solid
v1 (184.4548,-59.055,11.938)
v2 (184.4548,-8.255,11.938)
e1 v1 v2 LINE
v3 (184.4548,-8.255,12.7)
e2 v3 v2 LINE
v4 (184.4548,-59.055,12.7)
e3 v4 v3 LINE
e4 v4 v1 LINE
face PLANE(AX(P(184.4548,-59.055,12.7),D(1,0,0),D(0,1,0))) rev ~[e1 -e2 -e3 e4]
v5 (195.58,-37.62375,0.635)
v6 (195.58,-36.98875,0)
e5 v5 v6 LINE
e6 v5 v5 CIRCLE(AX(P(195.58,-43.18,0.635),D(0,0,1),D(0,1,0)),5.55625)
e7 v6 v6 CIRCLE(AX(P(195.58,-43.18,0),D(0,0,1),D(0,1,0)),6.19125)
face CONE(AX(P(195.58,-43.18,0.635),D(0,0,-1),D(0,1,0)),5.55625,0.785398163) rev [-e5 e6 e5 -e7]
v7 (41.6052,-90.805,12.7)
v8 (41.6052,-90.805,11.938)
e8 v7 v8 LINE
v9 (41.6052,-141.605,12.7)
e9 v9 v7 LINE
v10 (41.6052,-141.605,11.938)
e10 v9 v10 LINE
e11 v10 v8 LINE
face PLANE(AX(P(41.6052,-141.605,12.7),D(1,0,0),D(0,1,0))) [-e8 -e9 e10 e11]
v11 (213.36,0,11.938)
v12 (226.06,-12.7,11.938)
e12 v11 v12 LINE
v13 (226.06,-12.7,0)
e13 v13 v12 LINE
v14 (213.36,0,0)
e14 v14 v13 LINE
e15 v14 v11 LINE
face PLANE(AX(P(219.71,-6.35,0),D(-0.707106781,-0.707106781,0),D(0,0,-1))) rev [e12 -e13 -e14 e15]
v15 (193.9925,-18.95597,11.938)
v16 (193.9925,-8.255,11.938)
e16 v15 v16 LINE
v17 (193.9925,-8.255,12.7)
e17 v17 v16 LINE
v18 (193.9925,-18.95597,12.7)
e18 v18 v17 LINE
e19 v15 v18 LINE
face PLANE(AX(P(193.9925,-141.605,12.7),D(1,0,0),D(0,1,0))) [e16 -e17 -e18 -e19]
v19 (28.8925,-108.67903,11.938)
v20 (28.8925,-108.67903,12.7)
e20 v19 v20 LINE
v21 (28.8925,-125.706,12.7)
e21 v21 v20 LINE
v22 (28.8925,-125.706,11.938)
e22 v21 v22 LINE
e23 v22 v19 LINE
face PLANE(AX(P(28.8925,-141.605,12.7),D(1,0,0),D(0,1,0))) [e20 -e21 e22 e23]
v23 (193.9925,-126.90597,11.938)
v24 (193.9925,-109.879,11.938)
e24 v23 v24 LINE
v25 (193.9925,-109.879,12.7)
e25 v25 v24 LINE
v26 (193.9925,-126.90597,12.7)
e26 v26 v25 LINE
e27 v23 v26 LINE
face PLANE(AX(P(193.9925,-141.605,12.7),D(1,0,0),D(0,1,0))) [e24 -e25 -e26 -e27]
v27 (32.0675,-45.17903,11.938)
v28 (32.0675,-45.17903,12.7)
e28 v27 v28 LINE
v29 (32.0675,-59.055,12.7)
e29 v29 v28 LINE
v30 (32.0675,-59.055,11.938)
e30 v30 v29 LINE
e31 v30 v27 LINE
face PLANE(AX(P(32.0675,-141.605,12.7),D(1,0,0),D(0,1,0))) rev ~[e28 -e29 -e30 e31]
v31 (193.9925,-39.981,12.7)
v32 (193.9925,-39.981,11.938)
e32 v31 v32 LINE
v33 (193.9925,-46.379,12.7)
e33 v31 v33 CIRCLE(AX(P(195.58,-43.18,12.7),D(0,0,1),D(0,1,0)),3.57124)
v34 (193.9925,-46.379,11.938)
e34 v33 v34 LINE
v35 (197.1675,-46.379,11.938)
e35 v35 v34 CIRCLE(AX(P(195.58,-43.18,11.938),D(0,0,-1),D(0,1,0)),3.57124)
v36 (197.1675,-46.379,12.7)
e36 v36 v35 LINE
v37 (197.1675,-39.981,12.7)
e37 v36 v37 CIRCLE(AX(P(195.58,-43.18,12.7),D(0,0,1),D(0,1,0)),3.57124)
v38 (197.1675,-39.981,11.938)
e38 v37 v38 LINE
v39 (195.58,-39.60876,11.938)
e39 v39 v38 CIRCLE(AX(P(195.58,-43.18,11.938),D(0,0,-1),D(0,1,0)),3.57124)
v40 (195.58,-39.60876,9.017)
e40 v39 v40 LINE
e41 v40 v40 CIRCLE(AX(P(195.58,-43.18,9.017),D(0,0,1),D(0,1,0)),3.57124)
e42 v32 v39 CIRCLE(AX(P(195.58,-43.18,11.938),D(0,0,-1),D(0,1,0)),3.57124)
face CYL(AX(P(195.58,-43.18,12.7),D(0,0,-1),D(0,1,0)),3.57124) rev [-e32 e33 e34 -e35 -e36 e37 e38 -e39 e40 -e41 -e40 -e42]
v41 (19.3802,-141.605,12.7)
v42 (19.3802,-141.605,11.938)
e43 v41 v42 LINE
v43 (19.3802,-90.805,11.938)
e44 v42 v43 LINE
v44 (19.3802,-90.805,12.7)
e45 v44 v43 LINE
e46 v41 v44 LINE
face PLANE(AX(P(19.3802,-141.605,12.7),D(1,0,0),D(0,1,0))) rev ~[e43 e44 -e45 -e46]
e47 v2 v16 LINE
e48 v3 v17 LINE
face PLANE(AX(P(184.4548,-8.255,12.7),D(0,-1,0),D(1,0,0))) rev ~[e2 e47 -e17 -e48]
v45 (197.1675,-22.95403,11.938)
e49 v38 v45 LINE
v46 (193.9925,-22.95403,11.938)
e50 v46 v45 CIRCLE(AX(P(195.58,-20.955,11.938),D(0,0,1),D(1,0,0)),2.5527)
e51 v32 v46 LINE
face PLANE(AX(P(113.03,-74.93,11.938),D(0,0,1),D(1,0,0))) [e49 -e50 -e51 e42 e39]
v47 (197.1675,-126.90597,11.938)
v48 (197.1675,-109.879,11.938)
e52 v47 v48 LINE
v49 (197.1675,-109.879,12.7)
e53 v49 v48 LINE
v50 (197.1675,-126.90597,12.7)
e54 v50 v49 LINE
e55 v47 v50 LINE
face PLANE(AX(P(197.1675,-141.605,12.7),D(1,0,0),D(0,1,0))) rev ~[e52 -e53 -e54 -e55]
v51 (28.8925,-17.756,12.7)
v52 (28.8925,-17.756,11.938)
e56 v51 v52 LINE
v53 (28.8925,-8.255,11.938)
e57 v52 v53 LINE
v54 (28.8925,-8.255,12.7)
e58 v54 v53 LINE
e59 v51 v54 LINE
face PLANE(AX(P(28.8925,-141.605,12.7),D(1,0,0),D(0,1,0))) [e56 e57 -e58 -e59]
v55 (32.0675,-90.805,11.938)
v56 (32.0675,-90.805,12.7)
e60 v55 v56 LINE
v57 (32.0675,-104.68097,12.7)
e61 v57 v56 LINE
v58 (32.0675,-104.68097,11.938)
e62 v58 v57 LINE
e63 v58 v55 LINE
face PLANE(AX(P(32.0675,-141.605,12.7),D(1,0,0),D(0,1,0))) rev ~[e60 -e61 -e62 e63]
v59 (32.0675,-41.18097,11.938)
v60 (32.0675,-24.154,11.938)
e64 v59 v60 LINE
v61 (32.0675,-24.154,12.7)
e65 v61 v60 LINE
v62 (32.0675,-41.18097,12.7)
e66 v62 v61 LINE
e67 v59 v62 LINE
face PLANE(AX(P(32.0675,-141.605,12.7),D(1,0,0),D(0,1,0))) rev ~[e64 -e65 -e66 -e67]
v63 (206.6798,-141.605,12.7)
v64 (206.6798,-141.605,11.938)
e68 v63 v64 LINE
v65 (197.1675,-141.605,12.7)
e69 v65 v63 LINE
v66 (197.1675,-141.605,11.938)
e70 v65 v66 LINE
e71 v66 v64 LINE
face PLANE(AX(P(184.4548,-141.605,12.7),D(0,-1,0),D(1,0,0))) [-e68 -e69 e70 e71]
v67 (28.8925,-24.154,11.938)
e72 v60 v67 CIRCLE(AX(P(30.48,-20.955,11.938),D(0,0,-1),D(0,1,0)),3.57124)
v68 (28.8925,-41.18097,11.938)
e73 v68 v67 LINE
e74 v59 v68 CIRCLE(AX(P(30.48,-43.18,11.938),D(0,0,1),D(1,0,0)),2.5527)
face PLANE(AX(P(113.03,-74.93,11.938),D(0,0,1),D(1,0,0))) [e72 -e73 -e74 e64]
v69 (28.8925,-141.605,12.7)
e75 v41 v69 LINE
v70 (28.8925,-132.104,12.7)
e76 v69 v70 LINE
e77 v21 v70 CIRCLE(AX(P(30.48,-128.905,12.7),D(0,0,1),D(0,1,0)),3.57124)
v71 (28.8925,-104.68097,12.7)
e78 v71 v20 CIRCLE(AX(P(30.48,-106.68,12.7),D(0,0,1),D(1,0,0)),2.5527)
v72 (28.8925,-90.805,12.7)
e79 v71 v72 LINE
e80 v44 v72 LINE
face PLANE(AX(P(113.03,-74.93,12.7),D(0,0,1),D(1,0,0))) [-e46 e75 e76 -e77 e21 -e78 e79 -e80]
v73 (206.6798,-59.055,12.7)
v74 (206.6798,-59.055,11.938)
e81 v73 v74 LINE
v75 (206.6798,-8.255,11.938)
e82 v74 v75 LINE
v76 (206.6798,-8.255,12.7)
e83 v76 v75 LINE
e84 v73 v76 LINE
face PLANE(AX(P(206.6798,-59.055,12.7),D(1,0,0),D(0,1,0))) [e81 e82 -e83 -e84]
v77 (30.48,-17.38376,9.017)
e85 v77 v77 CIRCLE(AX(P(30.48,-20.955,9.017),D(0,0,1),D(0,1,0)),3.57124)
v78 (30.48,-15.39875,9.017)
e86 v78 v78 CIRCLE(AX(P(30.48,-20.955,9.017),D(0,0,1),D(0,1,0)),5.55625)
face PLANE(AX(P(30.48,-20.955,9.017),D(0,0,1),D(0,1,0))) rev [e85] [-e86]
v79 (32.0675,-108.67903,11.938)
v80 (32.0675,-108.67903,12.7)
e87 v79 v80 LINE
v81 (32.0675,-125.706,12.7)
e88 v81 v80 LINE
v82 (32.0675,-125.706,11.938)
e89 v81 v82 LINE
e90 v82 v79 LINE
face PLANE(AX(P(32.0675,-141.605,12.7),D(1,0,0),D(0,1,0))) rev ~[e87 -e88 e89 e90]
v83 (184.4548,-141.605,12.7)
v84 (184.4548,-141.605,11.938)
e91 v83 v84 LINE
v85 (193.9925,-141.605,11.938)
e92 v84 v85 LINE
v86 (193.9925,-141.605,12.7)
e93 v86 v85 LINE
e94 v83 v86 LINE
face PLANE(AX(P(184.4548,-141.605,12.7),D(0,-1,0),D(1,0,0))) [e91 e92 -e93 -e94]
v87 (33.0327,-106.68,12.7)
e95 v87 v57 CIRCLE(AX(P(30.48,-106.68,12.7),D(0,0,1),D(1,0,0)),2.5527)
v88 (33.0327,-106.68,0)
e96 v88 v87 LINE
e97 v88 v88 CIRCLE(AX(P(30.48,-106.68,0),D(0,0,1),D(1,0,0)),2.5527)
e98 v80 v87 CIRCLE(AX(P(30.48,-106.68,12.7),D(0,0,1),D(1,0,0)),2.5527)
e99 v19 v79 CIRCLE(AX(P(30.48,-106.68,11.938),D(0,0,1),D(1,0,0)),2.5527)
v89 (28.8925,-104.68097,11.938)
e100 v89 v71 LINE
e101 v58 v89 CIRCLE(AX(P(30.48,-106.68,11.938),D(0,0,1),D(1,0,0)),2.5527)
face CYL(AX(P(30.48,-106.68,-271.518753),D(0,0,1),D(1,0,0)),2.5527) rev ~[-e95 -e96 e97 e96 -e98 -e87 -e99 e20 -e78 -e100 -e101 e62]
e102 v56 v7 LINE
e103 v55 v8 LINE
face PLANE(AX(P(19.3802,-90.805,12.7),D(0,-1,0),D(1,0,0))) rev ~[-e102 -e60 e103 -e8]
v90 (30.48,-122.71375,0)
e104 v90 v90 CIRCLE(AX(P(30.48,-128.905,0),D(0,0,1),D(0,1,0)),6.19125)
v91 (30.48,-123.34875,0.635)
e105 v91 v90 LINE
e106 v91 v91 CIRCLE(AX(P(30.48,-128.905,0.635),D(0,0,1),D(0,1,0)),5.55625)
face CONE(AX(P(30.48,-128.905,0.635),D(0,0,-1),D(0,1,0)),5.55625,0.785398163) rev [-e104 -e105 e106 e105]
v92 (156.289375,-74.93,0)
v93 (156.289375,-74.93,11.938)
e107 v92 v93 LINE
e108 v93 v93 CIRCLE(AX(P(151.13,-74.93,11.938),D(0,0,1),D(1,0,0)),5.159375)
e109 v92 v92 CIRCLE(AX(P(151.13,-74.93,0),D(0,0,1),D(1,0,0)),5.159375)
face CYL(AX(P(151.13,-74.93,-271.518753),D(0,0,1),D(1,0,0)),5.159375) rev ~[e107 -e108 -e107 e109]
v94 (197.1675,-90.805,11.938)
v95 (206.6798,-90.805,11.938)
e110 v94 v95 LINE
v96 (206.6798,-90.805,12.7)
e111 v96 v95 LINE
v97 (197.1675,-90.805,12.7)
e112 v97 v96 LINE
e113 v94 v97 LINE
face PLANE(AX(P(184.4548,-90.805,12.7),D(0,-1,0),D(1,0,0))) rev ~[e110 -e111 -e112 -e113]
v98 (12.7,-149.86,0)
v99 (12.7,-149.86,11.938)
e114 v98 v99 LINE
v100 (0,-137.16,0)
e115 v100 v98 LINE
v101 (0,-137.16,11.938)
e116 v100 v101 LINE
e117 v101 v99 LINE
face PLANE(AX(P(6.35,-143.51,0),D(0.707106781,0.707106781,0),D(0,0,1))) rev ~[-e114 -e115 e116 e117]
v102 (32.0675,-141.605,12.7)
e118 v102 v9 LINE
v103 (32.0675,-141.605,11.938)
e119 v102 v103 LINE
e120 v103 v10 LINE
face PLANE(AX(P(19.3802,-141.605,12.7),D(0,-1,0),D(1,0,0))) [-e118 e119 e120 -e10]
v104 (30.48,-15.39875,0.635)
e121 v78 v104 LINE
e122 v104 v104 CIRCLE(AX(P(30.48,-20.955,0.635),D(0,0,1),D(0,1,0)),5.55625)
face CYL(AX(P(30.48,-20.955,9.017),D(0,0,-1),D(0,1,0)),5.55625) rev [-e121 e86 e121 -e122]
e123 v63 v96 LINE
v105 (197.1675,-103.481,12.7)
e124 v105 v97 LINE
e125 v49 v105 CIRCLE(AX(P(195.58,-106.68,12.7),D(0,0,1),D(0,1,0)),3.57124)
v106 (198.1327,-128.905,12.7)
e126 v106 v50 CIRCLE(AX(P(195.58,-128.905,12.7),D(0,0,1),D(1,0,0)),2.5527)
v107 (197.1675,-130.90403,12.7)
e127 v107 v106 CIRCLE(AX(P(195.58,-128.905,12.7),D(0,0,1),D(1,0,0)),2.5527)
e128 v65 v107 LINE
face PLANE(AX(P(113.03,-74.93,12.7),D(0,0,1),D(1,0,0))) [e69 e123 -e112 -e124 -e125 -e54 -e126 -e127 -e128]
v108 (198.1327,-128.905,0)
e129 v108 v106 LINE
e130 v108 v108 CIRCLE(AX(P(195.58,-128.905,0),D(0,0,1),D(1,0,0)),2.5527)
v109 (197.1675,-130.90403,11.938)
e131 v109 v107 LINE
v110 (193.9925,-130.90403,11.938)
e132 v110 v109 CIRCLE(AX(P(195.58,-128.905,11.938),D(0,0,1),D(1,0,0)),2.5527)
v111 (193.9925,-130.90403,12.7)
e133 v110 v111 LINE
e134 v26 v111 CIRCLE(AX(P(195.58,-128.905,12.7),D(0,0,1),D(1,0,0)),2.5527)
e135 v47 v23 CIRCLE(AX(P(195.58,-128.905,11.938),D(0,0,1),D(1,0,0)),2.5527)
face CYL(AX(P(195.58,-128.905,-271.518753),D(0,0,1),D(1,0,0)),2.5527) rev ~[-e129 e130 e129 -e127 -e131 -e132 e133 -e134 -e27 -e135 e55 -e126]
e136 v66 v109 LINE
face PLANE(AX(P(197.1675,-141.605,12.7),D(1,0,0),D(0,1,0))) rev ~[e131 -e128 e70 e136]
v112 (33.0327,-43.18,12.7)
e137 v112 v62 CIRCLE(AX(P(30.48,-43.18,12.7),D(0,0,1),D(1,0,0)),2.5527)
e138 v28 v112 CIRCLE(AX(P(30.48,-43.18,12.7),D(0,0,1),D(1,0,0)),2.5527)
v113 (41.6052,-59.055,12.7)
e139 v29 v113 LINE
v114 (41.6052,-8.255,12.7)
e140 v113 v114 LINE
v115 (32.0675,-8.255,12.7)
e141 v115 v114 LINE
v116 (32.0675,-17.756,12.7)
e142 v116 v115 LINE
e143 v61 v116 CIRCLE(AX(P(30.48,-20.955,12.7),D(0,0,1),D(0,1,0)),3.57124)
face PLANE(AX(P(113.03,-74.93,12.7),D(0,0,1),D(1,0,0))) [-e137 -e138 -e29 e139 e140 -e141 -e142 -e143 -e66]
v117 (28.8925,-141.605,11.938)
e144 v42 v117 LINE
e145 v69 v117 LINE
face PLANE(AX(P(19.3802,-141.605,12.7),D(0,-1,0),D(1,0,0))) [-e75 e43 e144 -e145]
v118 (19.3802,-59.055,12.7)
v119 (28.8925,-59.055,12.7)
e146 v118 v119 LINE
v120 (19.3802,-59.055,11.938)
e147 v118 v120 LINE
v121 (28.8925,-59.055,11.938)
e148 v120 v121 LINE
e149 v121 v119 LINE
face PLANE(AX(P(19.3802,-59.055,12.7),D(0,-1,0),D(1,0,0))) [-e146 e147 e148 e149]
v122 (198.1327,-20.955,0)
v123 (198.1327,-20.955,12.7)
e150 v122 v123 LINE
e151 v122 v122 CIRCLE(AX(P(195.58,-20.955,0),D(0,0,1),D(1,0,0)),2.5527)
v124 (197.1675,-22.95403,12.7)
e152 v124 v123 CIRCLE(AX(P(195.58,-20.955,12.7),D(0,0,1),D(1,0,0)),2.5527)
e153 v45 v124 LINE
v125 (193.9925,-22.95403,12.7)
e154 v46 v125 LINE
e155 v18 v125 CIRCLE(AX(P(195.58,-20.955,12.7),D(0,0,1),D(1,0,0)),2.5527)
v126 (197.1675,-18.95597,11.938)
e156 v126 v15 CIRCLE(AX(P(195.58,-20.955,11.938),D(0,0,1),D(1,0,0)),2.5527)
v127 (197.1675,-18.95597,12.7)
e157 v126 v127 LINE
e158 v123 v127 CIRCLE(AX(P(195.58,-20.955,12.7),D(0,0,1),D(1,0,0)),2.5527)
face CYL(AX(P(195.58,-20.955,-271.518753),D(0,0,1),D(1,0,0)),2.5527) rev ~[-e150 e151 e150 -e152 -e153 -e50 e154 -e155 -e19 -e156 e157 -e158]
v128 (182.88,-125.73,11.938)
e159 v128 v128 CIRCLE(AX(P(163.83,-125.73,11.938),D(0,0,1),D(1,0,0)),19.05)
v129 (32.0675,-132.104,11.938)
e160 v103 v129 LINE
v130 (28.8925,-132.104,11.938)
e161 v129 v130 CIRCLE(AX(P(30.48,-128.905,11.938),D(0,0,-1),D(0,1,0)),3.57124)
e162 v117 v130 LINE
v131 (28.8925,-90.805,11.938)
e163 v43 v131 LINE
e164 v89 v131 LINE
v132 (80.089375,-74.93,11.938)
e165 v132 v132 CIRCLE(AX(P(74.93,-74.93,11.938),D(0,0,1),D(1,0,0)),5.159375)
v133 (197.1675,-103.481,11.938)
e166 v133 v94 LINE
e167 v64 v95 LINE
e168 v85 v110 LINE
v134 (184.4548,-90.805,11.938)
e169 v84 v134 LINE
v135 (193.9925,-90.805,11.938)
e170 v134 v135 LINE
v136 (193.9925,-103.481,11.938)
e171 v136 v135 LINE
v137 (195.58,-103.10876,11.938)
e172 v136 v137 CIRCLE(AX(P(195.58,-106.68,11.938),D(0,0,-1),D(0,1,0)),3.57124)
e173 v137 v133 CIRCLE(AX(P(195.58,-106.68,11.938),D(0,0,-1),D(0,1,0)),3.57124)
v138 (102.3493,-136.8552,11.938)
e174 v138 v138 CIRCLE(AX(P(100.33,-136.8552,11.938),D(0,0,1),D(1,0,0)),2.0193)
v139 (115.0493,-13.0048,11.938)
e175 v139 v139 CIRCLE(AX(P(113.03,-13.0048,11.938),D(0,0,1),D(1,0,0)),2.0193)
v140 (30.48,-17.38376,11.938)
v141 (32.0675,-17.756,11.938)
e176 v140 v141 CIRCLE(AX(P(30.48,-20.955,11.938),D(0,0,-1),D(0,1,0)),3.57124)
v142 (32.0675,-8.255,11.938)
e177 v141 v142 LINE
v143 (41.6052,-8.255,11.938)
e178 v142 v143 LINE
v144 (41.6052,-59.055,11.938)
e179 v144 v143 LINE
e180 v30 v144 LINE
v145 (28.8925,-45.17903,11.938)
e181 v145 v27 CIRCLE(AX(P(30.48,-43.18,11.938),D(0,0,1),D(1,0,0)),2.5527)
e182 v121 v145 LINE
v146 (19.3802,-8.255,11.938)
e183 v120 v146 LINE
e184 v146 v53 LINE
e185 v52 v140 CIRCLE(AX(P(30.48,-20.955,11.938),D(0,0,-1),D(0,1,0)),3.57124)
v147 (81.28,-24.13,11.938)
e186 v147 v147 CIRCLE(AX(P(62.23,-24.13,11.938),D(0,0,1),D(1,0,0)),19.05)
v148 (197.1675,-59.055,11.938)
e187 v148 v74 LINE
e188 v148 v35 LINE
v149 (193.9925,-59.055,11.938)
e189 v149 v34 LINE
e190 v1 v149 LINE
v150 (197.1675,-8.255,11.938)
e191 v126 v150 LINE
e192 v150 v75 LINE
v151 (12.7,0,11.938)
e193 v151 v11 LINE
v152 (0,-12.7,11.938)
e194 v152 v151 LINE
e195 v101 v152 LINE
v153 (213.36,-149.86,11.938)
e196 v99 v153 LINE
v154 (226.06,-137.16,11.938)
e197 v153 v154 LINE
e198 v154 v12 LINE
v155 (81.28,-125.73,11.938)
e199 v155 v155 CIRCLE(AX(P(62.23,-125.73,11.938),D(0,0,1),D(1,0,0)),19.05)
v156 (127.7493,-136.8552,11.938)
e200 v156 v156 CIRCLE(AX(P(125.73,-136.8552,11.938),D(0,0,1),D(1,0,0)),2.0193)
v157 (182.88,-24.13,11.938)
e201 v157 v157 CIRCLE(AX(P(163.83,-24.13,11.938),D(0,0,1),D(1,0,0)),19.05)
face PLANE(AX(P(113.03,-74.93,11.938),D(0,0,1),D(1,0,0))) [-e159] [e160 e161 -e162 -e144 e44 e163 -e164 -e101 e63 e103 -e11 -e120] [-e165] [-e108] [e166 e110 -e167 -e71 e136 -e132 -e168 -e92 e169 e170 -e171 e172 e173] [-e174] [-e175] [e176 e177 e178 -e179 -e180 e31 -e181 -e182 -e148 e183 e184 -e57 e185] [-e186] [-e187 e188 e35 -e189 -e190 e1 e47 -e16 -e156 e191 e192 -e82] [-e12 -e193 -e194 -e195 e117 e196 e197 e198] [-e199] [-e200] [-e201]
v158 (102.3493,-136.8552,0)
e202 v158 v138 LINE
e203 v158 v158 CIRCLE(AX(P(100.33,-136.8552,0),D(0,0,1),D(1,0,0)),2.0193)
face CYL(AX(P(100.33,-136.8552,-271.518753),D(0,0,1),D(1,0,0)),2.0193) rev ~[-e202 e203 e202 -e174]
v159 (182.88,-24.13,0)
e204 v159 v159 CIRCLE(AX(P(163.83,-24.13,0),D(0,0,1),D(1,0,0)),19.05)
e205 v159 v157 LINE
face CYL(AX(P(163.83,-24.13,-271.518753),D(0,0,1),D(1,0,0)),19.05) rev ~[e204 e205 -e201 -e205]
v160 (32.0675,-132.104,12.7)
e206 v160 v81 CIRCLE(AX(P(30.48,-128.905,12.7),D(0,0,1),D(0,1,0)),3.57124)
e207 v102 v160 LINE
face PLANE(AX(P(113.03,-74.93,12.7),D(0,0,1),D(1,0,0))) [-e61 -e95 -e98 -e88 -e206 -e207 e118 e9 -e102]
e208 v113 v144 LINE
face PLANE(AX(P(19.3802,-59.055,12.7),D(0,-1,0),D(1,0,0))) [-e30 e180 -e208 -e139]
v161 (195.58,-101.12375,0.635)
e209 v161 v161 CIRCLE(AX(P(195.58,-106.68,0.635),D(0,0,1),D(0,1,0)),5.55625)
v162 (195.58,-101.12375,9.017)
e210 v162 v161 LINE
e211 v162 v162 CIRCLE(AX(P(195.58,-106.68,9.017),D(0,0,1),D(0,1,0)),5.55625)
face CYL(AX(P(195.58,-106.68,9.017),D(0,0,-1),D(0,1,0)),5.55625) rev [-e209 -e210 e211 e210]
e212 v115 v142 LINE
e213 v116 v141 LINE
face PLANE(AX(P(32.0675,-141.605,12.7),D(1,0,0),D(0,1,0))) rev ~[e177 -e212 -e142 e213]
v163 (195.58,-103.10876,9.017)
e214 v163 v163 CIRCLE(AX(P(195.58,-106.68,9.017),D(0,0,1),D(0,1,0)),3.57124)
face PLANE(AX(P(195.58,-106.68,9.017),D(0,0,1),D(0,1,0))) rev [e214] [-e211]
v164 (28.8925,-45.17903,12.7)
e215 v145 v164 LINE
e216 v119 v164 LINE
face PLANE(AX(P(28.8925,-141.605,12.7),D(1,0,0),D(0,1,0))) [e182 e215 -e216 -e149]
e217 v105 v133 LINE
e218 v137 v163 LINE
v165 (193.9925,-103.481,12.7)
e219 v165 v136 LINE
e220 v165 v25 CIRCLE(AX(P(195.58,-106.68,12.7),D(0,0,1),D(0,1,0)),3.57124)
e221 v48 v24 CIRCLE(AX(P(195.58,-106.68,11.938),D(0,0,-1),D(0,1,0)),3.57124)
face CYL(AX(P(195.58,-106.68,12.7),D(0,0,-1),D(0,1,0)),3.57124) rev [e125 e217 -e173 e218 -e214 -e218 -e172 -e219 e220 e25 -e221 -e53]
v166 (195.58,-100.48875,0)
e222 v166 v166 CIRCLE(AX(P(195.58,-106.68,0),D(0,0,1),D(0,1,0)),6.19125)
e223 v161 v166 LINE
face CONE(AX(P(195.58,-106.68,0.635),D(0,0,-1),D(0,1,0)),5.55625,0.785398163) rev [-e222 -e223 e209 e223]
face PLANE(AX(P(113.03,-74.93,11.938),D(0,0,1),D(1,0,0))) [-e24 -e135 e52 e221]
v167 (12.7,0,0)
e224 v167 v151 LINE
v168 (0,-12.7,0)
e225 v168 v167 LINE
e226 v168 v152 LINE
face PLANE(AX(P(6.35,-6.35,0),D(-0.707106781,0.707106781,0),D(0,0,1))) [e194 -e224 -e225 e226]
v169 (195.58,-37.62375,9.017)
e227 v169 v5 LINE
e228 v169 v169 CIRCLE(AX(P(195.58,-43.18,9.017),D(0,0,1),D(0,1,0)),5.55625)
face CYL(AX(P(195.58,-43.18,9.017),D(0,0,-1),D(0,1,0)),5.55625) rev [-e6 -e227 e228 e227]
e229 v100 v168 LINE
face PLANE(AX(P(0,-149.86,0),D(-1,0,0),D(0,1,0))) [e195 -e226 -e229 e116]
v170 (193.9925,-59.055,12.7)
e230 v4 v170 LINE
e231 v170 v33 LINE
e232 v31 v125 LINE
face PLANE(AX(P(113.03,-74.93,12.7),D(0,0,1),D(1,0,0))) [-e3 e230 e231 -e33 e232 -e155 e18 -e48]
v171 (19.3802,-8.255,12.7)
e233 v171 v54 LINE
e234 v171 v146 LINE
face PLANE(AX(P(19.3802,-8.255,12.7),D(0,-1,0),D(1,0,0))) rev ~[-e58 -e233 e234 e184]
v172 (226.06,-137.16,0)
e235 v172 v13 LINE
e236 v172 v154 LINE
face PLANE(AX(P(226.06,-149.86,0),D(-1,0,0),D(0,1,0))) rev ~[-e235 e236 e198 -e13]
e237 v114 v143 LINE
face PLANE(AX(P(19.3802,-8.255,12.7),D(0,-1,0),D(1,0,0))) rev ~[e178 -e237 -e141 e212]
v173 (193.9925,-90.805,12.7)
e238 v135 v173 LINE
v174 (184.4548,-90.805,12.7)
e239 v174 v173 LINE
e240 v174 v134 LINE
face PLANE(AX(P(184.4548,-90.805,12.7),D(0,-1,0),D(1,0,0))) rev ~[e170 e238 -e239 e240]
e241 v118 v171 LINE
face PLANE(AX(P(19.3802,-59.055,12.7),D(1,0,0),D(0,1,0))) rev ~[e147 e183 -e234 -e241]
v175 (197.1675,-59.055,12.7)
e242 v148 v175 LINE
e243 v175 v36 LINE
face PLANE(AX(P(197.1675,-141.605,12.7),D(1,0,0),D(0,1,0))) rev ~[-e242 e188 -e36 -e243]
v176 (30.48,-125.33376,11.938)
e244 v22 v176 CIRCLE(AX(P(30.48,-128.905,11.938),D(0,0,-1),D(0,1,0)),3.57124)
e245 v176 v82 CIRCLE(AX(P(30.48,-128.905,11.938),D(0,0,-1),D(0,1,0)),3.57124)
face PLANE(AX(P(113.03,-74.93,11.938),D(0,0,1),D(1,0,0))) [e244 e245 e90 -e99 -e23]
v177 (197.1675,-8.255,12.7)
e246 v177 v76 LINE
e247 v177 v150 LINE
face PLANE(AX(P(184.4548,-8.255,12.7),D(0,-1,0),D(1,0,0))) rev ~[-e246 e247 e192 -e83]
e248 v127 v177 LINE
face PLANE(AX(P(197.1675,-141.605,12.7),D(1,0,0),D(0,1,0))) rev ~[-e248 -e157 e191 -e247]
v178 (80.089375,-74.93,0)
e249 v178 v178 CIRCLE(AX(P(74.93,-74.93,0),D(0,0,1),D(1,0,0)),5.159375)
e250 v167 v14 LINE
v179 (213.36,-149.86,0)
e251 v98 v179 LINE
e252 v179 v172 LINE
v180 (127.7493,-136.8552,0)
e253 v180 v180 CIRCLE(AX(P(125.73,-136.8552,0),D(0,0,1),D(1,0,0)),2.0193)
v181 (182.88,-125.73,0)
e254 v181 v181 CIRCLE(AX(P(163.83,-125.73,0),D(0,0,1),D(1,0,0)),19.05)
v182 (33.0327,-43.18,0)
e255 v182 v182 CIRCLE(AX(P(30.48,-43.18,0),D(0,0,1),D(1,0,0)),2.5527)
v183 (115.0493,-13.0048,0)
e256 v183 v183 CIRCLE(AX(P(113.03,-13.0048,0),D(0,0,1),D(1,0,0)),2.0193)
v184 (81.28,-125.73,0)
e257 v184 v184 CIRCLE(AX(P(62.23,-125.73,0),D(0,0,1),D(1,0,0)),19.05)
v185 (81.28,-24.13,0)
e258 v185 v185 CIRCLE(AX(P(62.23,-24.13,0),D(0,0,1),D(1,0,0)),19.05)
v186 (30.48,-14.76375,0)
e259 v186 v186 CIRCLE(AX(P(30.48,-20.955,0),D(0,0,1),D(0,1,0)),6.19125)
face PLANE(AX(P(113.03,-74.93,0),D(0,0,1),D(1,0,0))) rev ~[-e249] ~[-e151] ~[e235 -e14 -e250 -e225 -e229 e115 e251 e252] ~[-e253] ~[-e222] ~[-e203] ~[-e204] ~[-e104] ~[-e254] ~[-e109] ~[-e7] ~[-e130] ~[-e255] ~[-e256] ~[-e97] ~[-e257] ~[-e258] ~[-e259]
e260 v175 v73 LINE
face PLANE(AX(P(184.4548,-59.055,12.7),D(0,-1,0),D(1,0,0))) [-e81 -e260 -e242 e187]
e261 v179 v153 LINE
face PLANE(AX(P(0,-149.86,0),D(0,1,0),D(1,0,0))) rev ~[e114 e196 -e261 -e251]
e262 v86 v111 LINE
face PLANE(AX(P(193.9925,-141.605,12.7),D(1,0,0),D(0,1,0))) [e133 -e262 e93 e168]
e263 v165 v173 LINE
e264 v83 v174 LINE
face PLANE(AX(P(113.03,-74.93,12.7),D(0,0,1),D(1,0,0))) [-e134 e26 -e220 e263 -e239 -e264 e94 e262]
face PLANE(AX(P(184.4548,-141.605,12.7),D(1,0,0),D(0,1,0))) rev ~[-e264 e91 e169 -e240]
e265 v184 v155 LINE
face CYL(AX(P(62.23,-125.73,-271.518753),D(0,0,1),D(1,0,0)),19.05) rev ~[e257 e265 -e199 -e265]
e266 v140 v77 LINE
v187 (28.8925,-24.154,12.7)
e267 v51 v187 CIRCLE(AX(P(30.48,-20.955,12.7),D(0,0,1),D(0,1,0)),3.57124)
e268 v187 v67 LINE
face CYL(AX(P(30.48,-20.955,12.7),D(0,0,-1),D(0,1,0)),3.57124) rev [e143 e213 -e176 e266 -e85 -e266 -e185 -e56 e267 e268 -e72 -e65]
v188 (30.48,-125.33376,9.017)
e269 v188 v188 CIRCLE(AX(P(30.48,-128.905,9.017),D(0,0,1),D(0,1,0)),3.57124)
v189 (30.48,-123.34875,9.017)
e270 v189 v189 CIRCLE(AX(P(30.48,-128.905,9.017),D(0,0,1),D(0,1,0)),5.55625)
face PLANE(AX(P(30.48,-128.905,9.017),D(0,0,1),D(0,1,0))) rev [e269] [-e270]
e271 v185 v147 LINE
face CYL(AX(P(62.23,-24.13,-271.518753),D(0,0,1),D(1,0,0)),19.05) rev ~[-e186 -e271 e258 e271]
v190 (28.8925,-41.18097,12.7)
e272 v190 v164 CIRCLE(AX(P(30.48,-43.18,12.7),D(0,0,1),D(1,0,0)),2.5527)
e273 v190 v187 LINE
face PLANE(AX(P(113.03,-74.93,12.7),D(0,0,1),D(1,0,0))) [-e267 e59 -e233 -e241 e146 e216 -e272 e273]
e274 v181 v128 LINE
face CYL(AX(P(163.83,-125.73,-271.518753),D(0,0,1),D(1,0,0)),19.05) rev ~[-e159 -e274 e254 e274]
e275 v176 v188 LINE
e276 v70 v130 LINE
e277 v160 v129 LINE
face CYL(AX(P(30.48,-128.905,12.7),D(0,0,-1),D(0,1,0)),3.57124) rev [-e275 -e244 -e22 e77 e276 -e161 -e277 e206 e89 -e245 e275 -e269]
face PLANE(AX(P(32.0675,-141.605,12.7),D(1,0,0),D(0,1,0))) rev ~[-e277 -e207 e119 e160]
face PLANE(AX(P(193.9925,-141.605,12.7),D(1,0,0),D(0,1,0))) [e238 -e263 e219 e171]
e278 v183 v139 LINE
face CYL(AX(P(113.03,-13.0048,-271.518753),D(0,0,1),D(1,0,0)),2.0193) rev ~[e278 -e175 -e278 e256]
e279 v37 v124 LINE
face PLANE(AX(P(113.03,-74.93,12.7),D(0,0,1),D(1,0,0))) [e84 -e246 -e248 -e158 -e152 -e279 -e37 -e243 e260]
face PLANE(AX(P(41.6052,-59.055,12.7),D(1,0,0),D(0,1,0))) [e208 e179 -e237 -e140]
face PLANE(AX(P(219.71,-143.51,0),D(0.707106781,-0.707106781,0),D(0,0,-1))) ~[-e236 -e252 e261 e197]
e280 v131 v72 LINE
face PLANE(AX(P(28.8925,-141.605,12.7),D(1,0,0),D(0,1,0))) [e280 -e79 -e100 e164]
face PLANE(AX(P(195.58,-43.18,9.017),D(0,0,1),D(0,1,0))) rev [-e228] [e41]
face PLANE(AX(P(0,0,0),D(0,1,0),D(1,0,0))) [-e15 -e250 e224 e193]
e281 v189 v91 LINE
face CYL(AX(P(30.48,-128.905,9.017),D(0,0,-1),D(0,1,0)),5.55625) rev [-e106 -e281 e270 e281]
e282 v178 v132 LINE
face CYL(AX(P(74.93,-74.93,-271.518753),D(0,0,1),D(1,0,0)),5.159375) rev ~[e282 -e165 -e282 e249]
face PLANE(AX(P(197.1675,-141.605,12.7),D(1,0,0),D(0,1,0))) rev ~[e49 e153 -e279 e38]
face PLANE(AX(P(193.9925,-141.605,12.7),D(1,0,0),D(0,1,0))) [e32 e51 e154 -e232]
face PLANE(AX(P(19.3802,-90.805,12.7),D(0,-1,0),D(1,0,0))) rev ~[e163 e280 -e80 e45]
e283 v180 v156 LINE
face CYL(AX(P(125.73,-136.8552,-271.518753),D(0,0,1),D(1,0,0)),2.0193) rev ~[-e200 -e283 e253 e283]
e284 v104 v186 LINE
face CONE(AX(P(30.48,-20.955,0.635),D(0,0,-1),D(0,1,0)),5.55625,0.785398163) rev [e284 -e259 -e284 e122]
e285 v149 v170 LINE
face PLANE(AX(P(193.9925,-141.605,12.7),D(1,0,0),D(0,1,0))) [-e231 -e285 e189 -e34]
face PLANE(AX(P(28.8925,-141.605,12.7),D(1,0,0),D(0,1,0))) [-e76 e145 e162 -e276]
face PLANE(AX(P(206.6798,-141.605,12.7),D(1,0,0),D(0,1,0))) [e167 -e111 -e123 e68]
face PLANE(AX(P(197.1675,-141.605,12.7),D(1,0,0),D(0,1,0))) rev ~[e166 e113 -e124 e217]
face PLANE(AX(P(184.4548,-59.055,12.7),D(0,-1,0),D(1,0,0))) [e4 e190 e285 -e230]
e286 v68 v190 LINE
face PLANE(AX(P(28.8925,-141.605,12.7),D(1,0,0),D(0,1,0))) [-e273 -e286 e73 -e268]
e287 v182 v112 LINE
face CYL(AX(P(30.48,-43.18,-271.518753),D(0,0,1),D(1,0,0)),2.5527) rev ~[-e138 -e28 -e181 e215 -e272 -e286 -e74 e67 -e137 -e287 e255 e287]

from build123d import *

# Parameters (mm, degrees)
SKETCH3_W                                     = 226.06
SKETCH3_H                                     = 149.86
EXTRUDE2_DEPTH                                = 12.7
SKETCH4_W                                     = 226.06
SKETCH4_H                                     = 149.86
SKETCH4_W_2                                   = 22.225
SKETCH4_H_2                                   = 50.8
EXTRUDE4_DEPTH                                = 0.762
CBORE_FOR_1_4_SOCKET_HEAD_CAP_SCREW1_AT_COUNT = 2
CBORE_FOR_1_4_SOCKET_HEAD_CAP_SCREW1_AT_PITCH = 186.028991356
CBORE_FOR_1_4_SOCKET_HEAD_CAP_SCREW1_2_COUNT  = 2
CBORE_FOR_1_4_SOCKET_HEAD_CAP_SCREW1_2_PITCH  = 166.589197204
CBORE_FOR_1_4_SOCKET_HEAD_CAP_SCREW1_3_COUNT  = 2
CBORE_FOR_1_4_SOCKET_HEAD_CAP_SCREW1_3_PITCH  = 63.5
F_1_1_DIAMETER_HOLE1_D                        = 38.1
F_10_32_TAPPED_HOLE1_D                        = 4.0386
SKETCH19_W                                    = 3.175
SKETCH19_H                                    = 133.35
CUT_EXTRUDE1_DEPTH                            = 0.762
F_1_4_20_TAPPED_HOLE1_D                       = 5.1054
CHAMFER1_SIZE                                 = 12.7
F_13_32_0_40625_DIAMETER_HOLE1_D              = 10.31875


with BuildPart() as part:
    # Sketch3 → Extrude2 (new body)
    with BuildSketch(Plane.XY):
        with Locations((113.03, -74.93)):
            Rectangle(SKETCH3_W, SKETCH3_H)
    extrude(amount=EXTRUDE2_DEPTH)

    # Sketch4 → Extrude4 (cut)
    with BuildSketch(Plane.XY.offset(12.7)):
        with Locations((113.03, -74.93)):
            Rectangle(SKETCH4_W, SKETCH4_H)
        with Locations((30.4927, -33.655)):
            Rectangle(SKETCH4_W_2, SKETCH4_H_2, mode=Mode.SUBTRACT)
        with Locations((30.4927, -116.205)):
            Rectangle(SKETCH4_W_2, SKETCH4_H_2, mode=Mode.SUBTRACT)
        with Locations((195.5673, -116.205)):
            Rectangle(SKETCH4_W_2, SKETCH4_H_2, mode=Mode.SUBTRACT)
        with Locations((195.5673, -33.655)):
            Rectangle(SKETCH4_W_2, SKETCH4_H_2, mode=Mode.SUBTRACT)
    extrude(amount=-EXTRUDE4_DEPTH, mode=Mode.SUBTRACT)

    # Sketch9 → CBORE for 1/4 Socket Head Cap Screw1 (revolve, cut)
    with BuildSketch(Plane(origin=(195.58, -106.68, 0), x_dir=(0, 1, 0), z_dir=(1, 0, 0))):
        Polygon((0, 0), (0, 12.7), (3.57124, 12.7), (3.57124, 9.017), (5.55625, 9.017), (5.55625, 0.635), (6.19125, 0), align=None)
    cbore_for_1_4_socket_head_cap_screw1 = revolve(axis=Axis((195.58, -106.68, -6.35), (0, 0, 1)), mode=Mode.SUBTRACT)

    # CBORE for 1/4 Socket Head Cap Screw1 at: CBORE for 1/4 Socket Head Cap Screw1 ×2
    with Locations(*[Vector(-0.887496077, 0.460815271, 0) * (i * CBORE_FOR_1_4_SOCKET_HEAD_CAP_SCREW1_AT_PITCH) for i in range(1, CBORE_FOR_1_4_SOCKET_HEAD_CAP_SCREW1_AT_COUNT)]):
        add(cbore_for_1_4_socket_head_cap_screw1, mode=Mode.SUBTRACT)

    # CBORE for 1_4 Socket Head Cap Screw1 2: CBORE for 1/4 Socket Head Cap Screw1 ×2
    with Locations(*[Vector(-0.991060662, -0.133412012, 0) * (i * CBORE_FOR_1_4_SOCKET_HEAD_CAP_SCREW1_2_PITCH) for i in range(1, CBORE_FOR_1_4_SOCKET_HEAD_CAP_SCREW1_2_COUNT)]):
        add(cbore_for_1_4_socket_head_cap_screw1, mode=Mode.SUBTRACT)

    # CBORE for 1_4 Socket Head Cap Screw1 3: CBORE for 1/4 Socket Head Cap Screw1 ×2
    with Locations(*[(0, i * CBORE_FOR_1_4_SOCKET_HEAD_CAP_SCREW1_3_PITCH, 0) for i in range(1, CBORE_FOR_1_4_SOCKET_HEAD_CAP_SCREW1_3_COUNT)]):
        add(cbore_for_1_4_socket_head_cap_screw1, mode=Mode.SUBTRACT)

    # 1 (1) Diameter Hole1 (through all)
    with Locations(Plane(origin=(163.83, -24.13, 0), x_dir=(-1, 0, 0), z_dir=(0, 0, -1))):
        with Locations((0, 0), (101.6, 0), (101.6, -101.6), (0, -101.6)):
            Hole(F_1_1_DIAMETER_HOLE1_D / 2)

    # #10-32 Tapped Hole1 (through all)
    with Locations(Plane(origin=(0, 0, 0), x_dir=(-1, 0, 0), z_dir=(0, 0, -1))):
        with Locations((-125.73, -136.8552), (-113.03, -13.0048), (-100.33, -136.8552)):
            Hole(F_10_32_TAPPED_HOLE1_D / 2)

    # Sketch19 → Cut-Extrude1 (cut)
    with BuildSketch(Plane.XY.offset(12.7)):
        with Locations((195.58, -74.93)):
            Rectangle(SKETCH19_W, SKETCH19_H)
        with Locations((30.48, -74.93)):
            Rectangle(SKETCH19_W, SKETCH19_H)
    extrude(amount=-CUT_EXTRUDE1_DEPTH, mode=Mode.SUBTRACT)

    # 1/4-20 Tapped Hole1 (through all)
    with Locations(Plane(origin=(0, 0, 0), x_dir=(-1, 0, 0), z_dir=(0, 0, -1))):
        with Locations((-195.58, -128.905), (-195.58, -20.955), (-30.48, -43.18), (-30.48, -106.68)):
            Hole(F_1_4_20_TAPPED_HOLE1_D / 2)

    # Chamfer1
    chamfer1_edges = [part.edges().sort_by_distance(p)[0] for p in [
        (0, 0, 5.969),
        (226.06, 0, 5.969),
        (226.06, -149.86, 5.969),
        (0, -149.86, 5.969),
    ]]
    chamfer(chamfer1_edges, length=CHAMFER1_SIZE)

    # 13/32 (0.40625) Diameter Hole1 (through all)
    with Locations(Plane(origin=(0, 0, 0), x_dir=(-1, 0, 0), z_dir=(0, 0, -1))):
        with Locations((-74.93, -74.93), (-151.13, -74.93)):
            Hole(F_13_32_0_40625_DIAMETER_HOLE1_D / 2)


solid = part.part
